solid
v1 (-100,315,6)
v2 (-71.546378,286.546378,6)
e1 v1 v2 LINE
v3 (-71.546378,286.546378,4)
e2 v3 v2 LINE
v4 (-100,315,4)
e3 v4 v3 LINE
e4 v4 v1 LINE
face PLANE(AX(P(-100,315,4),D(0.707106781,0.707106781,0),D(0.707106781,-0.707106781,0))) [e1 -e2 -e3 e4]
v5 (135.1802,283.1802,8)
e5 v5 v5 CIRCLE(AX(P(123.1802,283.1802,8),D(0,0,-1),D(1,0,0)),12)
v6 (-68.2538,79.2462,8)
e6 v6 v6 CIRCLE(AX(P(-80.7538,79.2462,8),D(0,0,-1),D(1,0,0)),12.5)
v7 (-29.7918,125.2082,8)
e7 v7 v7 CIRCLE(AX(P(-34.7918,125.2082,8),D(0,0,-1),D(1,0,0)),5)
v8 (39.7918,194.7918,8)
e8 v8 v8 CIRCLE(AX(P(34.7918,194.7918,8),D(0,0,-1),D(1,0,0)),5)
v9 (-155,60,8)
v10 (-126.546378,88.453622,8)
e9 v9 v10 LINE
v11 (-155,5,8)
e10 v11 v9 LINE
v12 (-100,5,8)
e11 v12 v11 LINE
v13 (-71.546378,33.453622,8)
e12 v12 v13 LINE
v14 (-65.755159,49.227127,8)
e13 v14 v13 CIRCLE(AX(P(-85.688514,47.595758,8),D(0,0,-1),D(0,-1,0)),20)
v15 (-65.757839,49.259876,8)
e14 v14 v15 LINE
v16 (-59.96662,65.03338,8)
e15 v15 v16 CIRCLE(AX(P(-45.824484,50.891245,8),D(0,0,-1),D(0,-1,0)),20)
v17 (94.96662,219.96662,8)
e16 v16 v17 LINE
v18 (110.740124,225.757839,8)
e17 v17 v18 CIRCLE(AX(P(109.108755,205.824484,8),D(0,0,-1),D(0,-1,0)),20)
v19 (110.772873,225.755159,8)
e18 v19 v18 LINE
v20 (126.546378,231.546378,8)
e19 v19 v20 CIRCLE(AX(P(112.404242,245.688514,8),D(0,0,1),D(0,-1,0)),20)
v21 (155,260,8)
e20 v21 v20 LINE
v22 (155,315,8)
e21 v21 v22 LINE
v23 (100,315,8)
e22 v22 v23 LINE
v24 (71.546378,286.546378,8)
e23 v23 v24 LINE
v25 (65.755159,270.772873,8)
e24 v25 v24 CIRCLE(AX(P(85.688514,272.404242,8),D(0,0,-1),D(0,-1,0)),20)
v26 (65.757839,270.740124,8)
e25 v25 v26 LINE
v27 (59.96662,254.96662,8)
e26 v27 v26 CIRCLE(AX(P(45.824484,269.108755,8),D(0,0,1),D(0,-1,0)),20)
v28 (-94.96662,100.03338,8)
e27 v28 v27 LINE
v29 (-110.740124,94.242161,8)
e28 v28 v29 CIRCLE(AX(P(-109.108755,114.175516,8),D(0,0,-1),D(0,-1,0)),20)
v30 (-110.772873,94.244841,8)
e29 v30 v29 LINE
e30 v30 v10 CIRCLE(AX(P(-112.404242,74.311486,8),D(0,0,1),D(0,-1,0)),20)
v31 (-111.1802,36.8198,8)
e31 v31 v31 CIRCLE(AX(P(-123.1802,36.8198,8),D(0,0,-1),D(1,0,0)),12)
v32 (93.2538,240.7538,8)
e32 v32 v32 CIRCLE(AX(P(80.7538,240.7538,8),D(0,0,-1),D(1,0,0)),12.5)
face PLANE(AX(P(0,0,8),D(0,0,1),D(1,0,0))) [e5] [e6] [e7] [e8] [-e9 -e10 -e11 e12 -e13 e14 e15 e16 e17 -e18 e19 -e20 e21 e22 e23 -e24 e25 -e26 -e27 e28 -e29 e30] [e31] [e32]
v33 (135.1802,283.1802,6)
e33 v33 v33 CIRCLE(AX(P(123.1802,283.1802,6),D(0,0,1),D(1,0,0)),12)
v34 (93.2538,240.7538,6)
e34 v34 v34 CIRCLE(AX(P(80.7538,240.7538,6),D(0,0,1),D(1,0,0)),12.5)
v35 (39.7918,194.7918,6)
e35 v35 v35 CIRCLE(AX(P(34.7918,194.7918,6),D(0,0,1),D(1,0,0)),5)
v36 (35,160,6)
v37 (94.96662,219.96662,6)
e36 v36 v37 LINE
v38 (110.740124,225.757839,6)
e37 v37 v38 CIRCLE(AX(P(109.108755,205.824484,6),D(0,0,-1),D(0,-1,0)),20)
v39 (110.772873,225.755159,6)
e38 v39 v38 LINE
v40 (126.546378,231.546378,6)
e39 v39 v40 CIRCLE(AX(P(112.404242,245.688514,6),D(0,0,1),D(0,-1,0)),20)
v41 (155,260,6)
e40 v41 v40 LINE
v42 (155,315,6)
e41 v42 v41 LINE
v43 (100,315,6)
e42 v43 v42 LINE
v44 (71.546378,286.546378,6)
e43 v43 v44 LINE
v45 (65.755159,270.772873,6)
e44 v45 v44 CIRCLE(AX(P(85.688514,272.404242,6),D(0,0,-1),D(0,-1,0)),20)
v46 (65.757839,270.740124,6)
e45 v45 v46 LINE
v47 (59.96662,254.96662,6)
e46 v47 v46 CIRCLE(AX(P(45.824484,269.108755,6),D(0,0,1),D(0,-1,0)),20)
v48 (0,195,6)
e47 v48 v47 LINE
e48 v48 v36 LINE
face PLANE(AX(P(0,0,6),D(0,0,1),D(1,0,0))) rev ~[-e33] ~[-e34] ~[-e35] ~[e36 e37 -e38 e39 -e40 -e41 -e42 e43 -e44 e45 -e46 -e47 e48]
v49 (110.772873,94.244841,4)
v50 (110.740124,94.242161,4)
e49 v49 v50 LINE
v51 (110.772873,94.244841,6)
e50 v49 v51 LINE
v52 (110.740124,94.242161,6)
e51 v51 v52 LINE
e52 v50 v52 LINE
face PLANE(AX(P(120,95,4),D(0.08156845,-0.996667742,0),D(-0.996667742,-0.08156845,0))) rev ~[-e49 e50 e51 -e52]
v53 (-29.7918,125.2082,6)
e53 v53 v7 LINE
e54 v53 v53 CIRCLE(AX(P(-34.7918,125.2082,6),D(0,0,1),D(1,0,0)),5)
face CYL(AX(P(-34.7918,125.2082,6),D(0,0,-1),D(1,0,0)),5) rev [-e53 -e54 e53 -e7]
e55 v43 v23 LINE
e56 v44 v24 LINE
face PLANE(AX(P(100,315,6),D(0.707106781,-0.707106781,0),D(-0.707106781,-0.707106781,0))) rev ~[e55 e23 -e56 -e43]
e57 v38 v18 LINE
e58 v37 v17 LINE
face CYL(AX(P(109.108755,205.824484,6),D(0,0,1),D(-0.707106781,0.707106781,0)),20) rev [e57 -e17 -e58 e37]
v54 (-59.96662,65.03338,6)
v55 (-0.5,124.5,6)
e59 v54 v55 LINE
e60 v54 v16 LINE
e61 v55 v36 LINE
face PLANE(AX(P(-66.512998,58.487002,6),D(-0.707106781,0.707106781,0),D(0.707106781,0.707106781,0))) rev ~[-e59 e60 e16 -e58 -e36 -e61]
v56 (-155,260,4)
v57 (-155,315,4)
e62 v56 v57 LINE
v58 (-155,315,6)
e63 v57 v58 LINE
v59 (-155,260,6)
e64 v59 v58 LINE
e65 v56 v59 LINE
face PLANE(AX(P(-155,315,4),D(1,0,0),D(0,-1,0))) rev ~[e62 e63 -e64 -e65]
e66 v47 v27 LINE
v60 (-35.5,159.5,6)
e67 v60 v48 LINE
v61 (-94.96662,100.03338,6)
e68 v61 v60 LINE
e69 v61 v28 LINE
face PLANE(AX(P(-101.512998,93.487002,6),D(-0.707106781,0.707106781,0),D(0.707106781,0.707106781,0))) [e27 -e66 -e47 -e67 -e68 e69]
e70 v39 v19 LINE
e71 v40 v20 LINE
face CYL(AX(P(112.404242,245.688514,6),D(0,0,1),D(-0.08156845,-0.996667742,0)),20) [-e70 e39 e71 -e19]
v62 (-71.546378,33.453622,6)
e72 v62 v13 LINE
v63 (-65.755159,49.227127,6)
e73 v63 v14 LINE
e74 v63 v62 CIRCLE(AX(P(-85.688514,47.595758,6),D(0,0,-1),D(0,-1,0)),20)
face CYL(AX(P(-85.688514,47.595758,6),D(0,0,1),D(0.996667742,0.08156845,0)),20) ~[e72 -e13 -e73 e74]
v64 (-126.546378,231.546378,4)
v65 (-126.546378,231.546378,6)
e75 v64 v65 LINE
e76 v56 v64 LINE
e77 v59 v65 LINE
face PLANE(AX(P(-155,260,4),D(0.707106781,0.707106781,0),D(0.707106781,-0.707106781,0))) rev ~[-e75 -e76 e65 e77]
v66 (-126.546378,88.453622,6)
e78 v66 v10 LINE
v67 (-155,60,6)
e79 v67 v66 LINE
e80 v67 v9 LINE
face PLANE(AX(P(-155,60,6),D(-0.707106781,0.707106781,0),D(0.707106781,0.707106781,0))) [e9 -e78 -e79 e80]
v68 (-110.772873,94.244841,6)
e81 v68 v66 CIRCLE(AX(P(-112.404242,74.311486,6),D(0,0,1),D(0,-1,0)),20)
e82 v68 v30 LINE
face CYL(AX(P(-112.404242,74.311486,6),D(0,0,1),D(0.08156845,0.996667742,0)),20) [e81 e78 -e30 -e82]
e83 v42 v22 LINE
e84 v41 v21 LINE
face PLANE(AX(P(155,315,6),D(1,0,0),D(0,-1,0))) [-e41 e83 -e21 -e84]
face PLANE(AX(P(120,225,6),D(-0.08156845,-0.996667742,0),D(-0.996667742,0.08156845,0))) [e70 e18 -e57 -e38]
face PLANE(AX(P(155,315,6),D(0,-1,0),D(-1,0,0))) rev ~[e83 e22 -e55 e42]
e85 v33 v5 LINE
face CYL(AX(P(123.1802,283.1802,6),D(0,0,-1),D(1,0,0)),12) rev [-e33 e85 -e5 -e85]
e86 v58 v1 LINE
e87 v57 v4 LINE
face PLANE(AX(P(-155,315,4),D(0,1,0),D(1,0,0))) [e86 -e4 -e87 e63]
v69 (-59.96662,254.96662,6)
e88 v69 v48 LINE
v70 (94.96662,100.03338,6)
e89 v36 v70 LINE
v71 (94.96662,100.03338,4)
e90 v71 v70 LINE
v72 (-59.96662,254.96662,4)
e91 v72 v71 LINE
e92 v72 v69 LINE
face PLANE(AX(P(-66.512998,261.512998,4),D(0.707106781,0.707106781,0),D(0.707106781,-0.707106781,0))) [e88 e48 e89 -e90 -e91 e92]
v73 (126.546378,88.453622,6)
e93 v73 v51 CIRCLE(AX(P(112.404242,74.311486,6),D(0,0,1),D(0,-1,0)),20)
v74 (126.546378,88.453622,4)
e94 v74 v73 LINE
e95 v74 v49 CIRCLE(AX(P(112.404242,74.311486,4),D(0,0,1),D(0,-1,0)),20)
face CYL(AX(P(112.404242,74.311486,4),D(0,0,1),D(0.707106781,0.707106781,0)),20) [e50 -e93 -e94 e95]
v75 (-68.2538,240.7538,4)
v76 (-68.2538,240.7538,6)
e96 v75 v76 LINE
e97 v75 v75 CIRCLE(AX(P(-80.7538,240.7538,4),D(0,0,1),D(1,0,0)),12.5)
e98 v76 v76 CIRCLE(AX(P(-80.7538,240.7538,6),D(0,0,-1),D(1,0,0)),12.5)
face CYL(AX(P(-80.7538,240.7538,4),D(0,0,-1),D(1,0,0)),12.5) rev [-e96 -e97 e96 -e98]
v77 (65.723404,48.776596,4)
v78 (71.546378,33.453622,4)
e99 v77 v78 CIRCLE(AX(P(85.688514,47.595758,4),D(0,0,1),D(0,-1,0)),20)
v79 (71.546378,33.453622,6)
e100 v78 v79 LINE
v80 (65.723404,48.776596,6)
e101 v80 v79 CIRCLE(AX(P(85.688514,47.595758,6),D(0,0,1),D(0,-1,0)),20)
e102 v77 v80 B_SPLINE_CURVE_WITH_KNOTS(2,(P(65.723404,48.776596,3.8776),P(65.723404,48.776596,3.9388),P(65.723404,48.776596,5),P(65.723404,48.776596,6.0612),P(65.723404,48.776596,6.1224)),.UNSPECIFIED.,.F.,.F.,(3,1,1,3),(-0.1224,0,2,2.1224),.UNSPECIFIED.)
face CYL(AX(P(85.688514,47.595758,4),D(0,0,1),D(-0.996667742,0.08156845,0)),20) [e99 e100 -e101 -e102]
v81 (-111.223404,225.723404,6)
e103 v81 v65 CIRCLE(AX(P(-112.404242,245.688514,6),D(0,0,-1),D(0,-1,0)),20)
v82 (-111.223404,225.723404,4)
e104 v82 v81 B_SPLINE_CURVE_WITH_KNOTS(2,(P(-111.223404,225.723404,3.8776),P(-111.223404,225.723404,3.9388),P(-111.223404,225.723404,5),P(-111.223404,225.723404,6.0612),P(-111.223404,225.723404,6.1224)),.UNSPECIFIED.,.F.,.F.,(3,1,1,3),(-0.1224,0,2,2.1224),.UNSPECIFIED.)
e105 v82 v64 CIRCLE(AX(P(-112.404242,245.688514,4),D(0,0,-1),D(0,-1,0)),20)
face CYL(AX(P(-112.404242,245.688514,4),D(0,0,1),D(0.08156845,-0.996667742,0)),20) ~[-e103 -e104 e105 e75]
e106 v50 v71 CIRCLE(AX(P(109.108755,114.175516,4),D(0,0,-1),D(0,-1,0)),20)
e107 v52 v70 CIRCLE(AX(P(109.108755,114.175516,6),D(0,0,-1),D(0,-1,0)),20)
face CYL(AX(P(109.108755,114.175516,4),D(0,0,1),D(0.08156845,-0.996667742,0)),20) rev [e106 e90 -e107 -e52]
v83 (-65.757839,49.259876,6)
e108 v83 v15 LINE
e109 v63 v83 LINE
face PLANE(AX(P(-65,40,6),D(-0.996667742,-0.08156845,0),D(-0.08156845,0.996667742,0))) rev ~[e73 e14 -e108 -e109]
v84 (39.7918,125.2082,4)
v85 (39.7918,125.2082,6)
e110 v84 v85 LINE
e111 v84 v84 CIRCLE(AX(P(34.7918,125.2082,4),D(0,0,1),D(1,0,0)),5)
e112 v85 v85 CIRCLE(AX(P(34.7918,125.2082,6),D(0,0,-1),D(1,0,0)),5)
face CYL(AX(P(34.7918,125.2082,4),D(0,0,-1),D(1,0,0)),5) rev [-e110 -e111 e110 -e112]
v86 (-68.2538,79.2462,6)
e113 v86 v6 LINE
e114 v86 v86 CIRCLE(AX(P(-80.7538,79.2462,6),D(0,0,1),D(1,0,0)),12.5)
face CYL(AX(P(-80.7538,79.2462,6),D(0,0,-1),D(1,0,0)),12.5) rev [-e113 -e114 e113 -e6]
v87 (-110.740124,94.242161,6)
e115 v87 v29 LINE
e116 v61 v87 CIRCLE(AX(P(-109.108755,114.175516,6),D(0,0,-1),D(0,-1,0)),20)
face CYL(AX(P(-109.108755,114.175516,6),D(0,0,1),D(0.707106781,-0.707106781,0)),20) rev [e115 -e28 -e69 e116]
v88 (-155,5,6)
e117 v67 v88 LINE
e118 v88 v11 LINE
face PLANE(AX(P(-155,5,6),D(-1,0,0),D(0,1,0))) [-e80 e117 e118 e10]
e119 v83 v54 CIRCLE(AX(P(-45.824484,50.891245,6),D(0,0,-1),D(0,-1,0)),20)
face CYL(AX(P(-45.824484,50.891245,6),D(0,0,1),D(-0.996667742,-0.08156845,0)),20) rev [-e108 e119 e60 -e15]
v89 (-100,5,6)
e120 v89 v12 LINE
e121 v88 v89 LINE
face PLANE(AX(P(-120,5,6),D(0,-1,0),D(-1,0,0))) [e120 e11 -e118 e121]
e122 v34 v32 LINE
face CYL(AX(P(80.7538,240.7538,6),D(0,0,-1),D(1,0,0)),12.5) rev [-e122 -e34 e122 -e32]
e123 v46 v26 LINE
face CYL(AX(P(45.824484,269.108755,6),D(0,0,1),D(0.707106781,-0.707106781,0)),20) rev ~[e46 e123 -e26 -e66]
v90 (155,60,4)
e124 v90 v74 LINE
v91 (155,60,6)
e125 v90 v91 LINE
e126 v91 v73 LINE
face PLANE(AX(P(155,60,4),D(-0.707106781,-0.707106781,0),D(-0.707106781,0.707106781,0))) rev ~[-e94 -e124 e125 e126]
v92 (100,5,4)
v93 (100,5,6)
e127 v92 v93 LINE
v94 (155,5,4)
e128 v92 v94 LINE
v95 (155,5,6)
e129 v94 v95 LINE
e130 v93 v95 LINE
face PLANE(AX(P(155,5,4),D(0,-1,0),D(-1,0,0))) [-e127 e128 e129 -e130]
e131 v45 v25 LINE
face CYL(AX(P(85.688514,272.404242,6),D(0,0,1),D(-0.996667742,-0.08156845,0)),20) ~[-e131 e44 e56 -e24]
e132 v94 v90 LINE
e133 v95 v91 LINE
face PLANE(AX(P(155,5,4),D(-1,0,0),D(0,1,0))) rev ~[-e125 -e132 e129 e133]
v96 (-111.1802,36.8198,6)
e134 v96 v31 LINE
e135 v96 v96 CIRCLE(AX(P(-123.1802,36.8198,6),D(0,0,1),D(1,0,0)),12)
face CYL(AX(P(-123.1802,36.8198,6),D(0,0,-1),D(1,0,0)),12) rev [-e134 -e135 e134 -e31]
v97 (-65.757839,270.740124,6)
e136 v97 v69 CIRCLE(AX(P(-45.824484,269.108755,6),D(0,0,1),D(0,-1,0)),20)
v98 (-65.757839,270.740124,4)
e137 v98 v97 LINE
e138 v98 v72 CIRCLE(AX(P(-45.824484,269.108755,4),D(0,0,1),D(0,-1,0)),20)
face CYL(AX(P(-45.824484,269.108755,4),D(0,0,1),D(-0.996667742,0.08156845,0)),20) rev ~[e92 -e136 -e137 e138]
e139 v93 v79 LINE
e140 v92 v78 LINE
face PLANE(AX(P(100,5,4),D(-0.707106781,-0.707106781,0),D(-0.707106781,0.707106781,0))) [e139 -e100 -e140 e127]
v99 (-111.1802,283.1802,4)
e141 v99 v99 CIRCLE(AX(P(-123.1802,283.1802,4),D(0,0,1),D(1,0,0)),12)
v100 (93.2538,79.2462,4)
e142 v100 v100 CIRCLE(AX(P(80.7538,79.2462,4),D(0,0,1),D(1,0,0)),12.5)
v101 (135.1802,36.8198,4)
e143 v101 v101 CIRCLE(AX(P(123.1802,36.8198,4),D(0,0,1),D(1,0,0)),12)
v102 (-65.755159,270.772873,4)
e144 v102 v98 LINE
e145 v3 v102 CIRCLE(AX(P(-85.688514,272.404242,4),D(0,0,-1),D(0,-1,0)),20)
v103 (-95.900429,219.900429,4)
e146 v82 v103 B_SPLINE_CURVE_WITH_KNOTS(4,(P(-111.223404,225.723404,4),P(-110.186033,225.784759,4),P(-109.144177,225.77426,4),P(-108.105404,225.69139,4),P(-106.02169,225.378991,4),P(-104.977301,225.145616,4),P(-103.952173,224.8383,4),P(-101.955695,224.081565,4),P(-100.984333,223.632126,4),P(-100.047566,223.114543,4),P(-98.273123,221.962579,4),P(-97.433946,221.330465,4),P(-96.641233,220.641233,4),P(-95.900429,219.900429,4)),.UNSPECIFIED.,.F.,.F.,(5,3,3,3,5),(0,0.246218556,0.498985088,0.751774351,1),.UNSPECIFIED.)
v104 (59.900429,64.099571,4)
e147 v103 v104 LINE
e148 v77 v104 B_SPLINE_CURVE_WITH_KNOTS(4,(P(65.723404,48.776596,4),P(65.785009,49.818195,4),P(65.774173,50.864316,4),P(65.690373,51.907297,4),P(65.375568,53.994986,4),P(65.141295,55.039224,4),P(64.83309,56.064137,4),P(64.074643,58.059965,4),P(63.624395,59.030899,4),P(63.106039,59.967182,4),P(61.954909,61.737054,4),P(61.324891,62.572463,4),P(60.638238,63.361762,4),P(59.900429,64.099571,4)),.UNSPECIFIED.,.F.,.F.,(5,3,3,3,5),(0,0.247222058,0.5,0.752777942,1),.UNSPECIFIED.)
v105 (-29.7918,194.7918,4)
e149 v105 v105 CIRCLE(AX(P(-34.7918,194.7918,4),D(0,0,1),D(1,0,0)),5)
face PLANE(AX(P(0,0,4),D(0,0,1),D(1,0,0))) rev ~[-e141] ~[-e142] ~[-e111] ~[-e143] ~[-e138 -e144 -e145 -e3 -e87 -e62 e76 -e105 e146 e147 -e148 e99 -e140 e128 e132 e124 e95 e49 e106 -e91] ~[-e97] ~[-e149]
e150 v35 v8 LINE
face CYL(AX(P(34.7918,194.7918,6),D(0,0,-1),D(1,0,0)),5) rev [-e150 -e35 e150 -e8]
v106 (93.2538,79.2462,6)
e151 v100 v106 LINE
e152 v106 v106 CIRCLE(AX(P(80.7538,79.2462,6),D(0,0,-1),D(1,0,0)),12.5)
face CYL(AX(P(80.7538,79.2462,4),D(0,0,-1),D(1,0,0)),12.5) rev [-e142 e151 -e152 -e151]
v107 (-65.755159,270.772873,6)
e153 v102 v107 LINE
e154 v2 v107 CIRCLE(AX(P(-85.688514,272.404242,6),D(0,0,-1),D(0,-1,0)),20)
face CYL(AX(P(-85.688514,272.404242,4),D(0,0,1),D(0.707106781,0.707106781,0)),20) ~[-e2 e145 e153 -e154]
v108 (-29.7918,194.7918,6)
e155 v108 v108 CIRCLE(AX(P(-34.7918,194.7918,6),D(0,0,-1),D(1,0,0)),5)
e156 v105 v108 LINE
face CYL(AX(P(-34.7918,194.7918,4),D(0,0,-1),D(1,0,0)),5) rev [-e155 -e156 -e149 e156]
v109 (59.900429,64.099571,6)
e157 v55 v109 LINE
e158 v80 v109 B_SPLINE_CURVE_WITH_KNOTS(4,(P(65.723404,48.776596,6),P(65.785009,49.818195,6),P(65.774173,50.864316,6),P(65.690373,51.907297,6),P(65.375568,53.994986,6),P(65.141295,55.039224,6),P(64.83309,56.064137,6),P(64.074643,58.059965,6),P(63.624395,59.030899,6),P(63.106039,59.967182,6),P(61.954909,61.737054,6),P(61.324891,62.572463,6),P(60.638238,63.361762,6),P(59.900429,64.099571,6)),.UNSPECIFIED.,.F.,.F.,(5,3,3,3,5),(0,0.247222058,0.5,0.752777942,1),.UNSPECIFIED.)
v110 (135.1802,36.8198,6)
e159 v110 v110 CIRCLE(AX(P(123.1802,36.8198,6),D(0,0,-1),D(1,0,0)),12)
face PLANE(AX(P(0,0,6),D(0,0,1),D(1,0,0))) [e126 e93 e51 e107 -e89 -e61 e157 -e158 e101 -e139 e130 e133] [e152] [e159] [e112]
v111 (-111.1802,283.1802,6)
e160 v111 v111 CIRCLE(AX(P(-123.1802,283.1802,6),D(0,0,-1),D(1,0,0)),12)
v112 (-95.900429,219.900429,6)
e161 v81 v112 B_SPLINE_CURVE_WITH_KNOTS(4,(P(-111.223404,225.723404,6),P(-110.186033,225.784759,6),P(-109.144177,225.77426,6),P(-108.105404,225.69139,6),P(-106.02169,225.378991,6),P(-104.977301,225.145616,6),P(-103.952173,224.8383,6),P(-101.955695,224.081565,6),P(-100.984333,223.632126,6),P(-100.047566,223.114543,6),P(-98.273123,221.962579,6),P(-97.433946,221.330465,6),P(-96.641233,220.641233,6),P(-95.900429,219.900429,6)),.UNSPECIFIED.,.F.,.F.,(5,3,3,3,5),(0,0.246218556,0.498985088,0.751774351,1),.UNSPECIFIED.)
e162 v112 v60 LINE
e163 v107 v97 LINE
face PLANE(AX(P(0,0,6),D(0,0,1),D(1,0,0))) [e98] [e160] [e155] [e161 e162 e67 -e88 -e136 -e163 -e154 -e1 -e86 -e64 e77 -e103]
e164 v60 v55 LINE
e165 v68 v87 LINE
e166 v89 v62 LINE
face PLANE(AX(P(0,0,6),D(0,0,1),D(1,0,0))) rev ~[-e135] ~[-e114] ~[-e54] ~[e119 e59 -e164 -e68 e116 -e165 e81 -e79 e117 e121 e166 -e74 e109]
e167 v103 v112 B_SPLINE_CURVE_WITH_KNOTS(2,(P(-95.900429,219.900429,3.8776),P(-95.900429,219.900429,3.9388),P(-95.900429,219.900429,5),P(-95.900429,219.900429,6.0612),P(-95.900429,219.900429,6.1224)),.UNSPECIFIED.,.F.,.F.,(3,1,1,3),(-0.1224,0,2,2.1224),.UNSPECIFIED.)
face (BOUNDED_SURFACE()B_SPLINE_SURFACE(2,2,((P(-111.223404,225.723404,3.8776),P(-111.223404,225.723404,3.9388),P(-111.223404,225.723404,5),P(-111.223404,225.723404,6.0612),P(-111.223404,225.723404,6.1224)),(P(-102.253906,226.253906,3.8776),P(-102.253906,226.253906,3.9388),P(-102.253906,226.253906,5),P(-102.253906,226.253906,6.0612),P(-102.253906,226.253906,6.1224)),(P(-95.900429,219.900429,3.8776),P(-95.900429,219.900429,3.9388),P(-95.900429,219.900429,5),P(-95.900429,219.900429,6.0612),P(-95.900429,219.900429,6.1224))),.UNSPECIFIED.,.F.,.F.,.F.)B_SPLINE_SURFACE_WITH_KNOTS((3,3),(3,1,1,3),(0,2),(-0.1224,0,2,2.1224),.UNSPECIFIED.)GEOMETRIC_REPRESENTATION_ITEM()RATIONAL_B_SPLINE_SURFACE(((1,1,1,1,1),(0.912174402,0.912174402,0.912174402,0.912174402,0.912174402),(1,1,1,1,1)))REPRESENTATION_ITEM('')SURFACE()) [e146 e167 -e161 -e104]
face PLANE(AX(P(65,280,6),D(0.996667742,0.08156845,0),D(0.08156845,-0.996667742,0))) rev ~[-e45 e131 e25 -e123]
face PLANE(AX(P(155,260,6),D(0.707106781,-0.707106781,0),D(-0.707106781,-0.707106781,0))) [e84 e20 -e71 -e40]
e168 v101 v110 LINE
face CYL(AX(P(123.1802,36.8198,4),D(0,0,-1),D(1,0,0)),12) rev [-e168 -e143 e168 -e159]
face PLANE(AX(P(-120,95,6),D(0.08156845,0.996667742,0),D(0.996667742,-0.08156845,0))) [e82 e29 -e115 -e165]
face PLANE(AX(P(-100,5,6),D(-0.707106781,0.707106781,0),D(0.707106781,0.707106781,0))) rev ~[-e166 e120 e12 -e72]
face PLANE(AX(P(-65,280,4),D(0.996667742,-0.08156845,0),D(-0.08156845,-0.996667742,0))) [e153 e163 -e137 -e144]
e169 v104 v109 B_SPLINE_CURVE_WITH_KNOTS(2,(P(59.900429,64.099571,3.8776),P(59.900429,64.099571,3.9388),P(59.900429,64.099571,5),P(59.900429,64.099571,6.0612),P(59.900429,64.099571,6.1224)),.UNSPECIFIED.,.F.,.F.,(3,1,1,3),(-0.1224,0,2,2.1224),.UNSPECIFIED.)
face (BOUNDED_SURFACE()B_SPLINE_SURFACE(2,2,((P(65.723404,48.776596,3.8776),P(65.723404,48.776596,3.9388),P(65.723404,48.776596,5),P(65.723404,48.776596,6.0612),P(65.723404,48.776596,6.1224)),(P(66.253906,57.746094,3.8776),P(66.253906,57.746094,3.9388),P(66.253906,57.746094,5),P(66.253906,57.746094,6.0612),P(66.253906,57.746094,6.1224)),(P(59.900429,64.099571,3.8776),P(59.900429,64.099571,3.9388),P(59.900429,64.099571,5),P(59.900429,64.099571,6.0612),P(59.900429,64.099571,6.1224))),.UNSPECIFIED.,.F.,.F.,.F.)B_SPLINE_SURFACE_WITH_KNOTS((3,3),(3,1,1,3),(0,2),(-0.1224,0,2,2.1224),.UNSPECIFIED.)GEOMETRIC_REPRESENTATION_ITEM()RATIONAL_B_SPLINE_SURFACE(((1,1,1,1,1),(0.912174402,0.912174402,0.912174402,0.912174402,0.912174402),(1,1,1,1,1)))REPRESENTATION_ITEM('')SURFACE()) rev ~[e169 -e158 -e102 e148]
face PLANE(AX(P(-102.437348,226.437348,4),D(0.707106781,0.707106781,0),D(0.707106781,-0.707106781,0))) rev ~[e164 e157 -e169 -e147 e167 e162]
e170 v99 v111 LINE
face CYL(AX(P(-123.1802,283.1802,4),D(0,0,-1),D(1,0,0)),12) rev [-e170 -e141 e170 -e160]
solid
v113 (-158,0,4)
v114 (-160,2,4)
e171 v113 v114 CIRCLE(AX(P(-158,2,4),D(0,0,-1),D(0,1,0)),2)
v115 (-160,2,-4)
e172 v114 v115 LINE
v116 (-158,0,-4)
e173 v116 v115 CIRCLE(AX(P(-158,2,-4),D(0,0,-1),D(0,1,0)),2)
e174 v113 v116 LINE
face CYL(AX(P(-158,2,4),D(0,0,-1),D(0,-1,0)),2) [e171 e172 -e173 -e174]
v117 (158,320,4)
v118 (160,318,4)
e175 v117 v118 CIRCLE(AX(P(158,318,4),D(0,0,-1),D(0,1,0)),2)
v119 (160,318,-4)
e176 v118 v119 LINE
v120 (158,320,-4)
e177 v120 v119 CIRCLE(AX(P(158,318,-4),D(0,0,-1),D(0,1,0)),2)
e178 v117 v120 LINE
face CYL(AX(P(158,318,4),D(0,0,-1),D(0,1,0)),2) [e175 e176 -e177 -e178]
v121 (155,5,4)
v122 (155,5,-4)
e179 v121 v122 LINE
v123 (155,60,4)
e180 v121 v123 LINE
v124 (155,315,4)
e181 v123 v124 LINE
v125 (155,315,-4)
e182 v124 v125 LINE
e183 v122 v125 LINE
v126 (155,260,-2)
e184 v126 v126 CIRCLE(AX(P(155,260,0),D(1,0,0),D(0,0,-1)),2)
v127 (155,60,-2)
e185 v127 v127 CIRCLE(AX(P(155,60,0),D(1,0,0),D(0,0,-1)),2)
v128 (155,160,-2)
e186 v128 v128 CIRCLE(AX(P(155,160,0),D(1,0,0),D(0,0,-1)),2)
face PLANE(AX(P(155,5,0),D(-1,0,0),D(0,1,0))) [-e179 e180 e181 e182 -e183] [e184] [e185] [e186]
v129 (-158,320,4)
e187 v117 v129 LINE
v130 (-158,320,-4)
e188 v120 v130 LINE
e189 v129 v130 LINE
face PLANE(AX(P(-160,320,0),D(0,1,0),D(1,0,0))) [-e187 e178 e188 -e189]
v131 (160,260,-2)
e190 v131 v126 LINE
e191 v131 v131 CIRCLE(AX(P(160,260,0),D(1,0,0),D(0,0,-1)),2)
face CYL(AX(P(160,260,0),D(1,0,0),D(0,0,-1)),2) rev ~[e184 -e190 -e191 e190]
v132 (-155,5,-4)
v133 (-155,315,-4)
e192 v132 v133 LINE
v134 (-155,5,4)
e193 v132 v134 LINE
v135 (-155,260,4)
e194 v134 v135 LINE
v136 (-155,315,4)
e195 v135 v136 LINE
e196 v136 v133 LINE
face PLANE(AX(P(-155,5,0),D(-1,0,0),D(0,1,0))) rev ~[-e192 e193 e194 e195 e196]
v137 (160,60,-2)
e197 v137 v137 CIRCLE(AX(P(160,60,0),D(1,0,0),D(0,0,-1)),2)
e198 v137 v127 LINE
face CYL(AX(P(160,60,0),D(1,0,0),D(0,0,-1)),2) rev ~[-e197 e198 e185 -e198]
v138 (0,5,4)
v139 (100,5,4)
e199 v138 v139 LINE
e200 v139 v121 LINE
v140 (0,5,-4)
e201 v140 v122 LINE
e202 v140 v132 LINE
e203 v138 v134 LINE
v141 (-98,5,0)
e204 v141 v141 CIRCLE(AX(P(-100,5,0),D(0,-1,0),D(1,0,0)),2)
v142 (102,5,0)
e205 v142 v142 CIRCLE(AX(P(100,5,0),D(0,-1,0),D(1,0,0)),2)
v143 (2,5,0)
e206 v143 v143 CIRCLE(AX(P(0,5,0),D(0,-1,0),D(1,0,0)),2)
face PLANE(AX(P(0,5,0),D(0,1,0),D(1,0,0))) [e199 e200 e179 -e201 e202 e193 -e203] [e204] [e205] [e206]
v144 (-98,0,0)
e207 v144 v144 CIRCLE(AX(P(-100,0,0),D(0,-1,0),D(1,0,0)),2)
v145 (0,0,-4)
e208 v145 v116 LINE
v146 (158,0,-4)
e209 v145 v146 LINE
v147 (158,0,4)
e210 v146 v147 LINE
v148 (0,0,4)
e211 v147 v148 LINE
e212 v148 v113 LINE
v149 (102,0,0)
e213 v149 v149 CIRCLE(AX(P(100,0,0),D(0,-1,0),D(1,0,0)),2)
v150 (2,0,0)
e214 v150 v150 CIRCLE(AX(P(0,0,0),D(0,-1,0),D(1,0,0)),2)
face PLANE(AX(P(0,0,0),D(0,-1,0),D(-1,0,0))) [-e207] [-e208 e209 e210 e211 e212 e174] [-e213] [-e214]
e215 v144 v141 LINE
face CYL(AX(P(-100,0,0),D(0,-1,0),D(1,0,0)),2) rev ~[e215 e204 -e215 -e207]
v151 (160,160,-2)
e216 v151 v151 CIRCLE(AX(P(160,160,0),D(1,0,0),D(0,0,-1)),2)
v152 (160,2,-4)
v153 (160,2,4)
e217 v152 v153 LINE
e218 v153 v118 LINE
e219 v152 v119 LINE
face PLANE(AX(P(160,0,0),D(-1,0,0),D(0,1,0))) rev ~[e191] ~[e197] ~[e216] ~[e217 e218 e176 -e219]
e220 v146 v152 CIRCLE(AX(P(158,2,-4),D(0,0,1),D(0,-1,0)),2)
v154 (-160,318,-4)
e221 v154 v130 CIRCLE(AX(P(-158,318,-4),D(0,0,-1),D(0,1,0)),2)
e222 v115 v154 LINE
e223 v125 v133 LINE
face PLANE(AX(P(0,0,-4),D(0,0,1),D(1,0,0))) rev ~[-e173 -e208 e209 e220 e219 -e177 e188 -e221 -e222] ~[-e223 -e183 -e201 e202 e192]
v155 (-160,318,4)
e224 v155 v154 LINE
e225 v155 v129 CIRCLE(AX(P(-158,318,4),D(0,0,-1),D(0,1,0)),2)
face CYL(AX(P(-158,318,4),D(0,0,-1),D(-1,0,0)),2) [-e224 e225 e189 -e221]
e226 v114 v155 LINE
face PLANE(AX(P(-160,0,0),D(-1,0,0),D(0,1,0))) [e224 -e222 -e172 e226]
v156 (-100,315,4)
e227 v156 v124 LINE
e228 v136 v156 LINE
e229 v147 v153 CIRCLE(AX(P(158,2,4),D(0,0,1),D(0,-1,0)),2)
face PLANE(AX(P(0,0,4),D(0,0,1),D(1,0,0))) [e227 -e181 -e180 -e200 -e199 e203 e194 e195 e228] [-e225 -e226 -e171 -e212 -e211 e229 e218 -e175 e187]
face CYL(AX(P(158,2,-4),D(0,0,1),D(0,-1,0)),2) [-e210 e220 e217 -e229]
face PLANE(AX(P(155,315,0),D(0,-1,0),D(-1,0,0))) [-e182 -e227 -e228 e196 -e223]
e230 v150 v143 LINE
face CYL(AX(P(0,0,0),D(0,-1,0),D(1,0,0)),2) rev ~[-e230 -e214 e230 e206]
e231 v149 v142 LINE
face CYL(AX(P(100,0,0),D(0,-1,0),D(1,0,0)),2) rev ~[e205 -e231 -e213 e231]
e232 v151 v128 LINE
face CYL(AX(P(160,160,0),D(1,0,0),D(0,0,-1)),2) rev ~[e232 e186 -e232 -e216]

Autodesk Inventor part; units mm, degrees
sketch "Sketch1" plane through (0, 0, 0) normal (0, 0, 1) x (1, 0, 0)
  line L0 (0, 1487) -> (0, 5) construction
  line L1 (0, 0) -> (160, 0)
  line L2 (160, 0) -> (160, 320)
  line L3 (160, 320) -> (0, 320)
  line L4 (0, 0) -> (5, 0)
  line L5 (0, 0) -> (0, 5)
  line L6 (0, 5) -> (155, 5)
  line L7 (155, 5) -> (155, 315)
  line L8 (155, 315) -> (0, 315)
  line L9 (0, 0) -> (-160, 0)
  line L10 (-160, 0) -> (-160, 320)
  line L11 (-160, 320) -> (0, 320)
  line L12 (0, 5) -> (-155, 5)
  line L13 (-155, 5) -> (-155, 315)
  line L14 (-155, 315) -> (0, 315)
  dimension "d12" = 160
  dimension "d13" = 320
  dimension "d14" = 5
  dimension "d15" = 5
  dimension "d19" = 310
  dimension "d20" = 155
  dimension "d21" = 1487
extrude "Extrusion2" add sketch "Sketch1" along normal mid plane 8
fillet "Fillet2" radius 2 4 edges at (160, 320, 0) (-160, 320, 0) (160, 0, 0) (-160, 0, 0)
ref_plane "Work Plane1" through (0, 0, 4) normal (0, 0, 1) x (1, 0, 0)
sketch "Sketch2" plane through (0, 0, 4) normal (0, 0, 1) x (1, 0, 0)
  line L0 (-155, 315) -> (155, 5)
  line L1 (-137.5, 332.5) -> (172.5, 22.5)
  line L2 (-173, 297) -> (137, -13)
  line L3 (-173, 297) -> (-137.5, 332.5)
  circle A0 centre (-123.1802, 283.1802) radius 12
  circle A1 centre (-80.7538, 240.7538) radius 12.5
  line L4 (137, -13) -> (172.5, 22.5)
  circle A2 centre (123.1802, 36.8198) radius 12
  circle A3 centre (80.7538, 79.2462) radius 12.5
  circle A4 centre (34.7918, 125.2082) radius 5
  circle A5 centre (-34.7918, 194.7918) radius 5
  line L5 (-155, 315) -> (-155, 5) projected
  line L6 (-155, 315) -> (-155, 260)
  line L7 (-155, 260) -> (-120, 225)
  line L8 (-155, 315) -> (-100, 315)
  line L9 (-155, 315) -> (155, 315) projected
  line L10 (-100, 315) -> (-65, 280)
  line L11 (155, 5) -> (-155, 5) projected
  line L12 (155, 5) -> (100, 5)
  line L13 (155, 5) -> (155, 60)
  line L14 (155, 315) -> (155, 5) projected
  line L15 (-65, 280) -> (-68.2954, 239.7342)
  line L16 (-120, 225) -> (-79.7342, 228.2954)
  line L17 (155, 60) -> (120, 95)
  line L18 (100, 5) -> (65, 40)
  line L19 (65, 40) -> (68.2954, 80.2658)
  line L20 (120, 95) -> (79.7342, 91.7046)
  line L21 (155, 60) -> (182.5, 32.5)
  line L22 (182.5, 32.5) -> (172.5, 22.5)
  line L23 (100, 5) -> (127.5, -22.5)
  line L24 (127.5, -22.5) -> (137, -13)
  line L25 (-100, 315) -> (-127.5, 342.5)
  line L26 (-127.5, 342.5) -> (-137.5, 332.5)
  line L27 (-173, 297) -> (-182.5, 287.5)
  line L28 (-182.5, 287.5) -> (-155, 260)
  point P0 (0, 0)
  point P1 (66.4374, 57.5626)
  point P2 (119, 5)
  point P3 (101.513, 93.487)
  point P4 (155, 40)
  point P5 (-66.513, 261.513)
  point P6 (-120, 315)
  point P7 (-102.4374, 226.4374)
  point P8 (-155, 279)
  dimension "d30" = 24.7487
  dimension "d31" = 25.4558
  dimension "d32" = 50.2046
  dimension "d33" = 24
  dimension "d34" = 25
  dimension "d35" = 45
  dimension "d36" = 105
  dimension "d37" = 24
  dimension "d38" = 25
  dimension "d39" = 45
  dimension "d40" = 35.5
  dimension "d41" = 105
  dimension "d42" = 438.4062
  dimension "d43" = 0
  dimension "d44" = 0
  dimension "d45" = 10
  dimension "d46" = 10
  dimension "d47" = 170
  dimension "d48" = 170
  dimension "d111" = 55
  dimension "d112" = 55
  dimension "d114" = 45
  dimension "d115" = 45
  dimension "d116" = 55
  dimension "d117" = 55
  dimension "d118" = 35
  dimension "d119" = 35
  dimension "d121" = 45
  dimension "d122" = 45
  dimension "d123" = 35
  dimension "d124" = 35
extrude "Extrusion3" add sketch "Sketch2" along normal blind 2 contours L8 L1 L15 A1 L0 A0 | L0 A0 A1 L16 L2 L5 | L2 L16 L7 L5 | L8 L10 L15 L1 | L16 A1 L0 A5 A4 A3 L19 L2 | L1 L20 A3 L0 A4 A5 A1 L15 | L19 A3 L0 A2 L11 L2 | L2 L11 L18 L19 | L20 L17 L13 L1 | L1 L13 L0 A2 A3 L20
ref_plane "Work Plane2" through (0, 0, 6) normal (0, 0, 1) x (1, 0, 0)
sketch "Sketch3" plane through (0, 0, 6) normal (0, 0, 1) x (1, 0, 0)
  line L0 (-155, 5) -> (155, 315)
  line L1 (-172.5, 22.5) -> (137.5, 332.5)
  line L2 (-137.5, -12.5) -> (172.5, 297.5)
  line L3 (-172.5, 22.5) -> (-137.5, -12.5)
  line L4 (137.5, 332.5) -> (172.5, 297.5)
  circle A0 centre (123.1802, 283.1802) radius 12
  circle A1 centre (80.7538, 240.7538) radius 12.5
  circle A2 centre (34.7918, 194.7918) radius 5
  circle A3 centre (-34.7918, 125.2082) radius 5
  circle A4 centre (-80.7538, 79.2462) radius 12.5
  circle A5 centre (-123.1802, 36.8198) radius 12
  line L5 (155, 315) -> (155, 60) projected
  line L6 (155, 315) -> (100, 315)
  line L7 (155, 315) -> (-155, 315) projected
  line L8 (100, 315) -> (65, 280)
  line L9 (65, 280) -> (68.2954, 239.7342)
  line L10 (155, 315) -> (155, 260)
  line L11 (155, 260) -> (120, 225)
  line L12 (120, 225) -> (79.7342, 228.2954)
  line L13 (-155, 5) -> (-155, 260) projected
  line L14 (-155, 5) -> (-155, 60)
  line L15 (-155, 60) -> (-120, 95)
  line L16 (100, 5) -> (-155, 5) projected
  line L17 (-155, 5) -> (-100, 5)
  line L18 (-100, 5) -> (-65, 40)
  line L19 (-65, 40) -> (-68.2954, 80.2658)
  line L20 (-120, 95) -> (-79.7342, 91.7046)
  point P0 (0, 0)
  point P1 (-68.2538, 79.2462)
  point P2 (66.513, 261.513)
  point P3 (-101.513, 93.487)
  point P4 (-66.513, 58.487)
  point P5 (101.513, 226.513)
  dimension "d55" = 24.7487
  dimension "d56" = 24.7487
  dimension "d57" = 24
  dimension "d58" = 25
  dimension "d59" = 10
  dimension "d60" = 45
  dimension "d61" = 35
  dimension "d62" = 105
  dimension "d63" = 170
  dimension "d64" = 45
  dimension "d65" = 105
  dimension "d66" = 170
  dimension "d67" = 438.4062
  dimension "d68" = 0
  dimension "d69" = 438.4062
  dimension "d125" = 55
  dimension "d126" = 55
  dimension "d127" = 45
  dimension "d128" = 35
  dimension "d129" = 45
  dimension "d130" = 35
  dimension "d131" = 55
  dimension "d132" = 55
  dimension "d133" = 45
  dimension "d134" = 35
  dimension "d135" = 45
  dimension "d136" = 35
extrude "Extrusion4" add sketch "Sketch3" along normal blind 2 contours L13 L1 L20 A4 L0 A5 | L0 A5 A4 L19 L2 L16 | L13 L15 L20 L1 | L2 L19 L18 L16 | L1 L9 A1 L0 A2 A3 A4 L20 | L19 A4 L0 A3 A2 A1 L12 L2 | L9 L8 L6 L1 | L1 L6 L0 A0 A1 L9 | L12 A1 L0 A0 L5 L2 | L2 L5 L11 L12
ref_plane "Work Plane4" through (160, 2, -4) normal (1, 0, 0) x (0, 0, -1)
sketch "Sketch5" plane through (160, 2, -4) normal (1, 0, 0) x (0, 0, -1)
  circle A0 centre (-4, 158) radius 2
  circle A1 centre (-4, 58) radius 2
  circle A2 centre (-4, 258) radius 2
  line L0 (0, 318) -> (-8, 318) projected
  point P0 (-4, -2)
  dimension "d84" = 4
  dimension "d85" = 4
  dimension "d86" = 4
  dimension "d87" = 60
  dimension "d88" = 100
  dimension "d89" = 100
  dimension "d90" = 60
extrude "Extrusion6" cut sketch "Sketch5" against normal blind 8
ref_plane "Work Plane6" through (-158, 0, -4) normal (0, -1, 0) x (1, 0, 0)
sketch "Sketch7" plane through (-158, 0, -4) normal (0, -1, 0) x (1, 0, 0)
  circle A0 centre (158, 4) radius 2
  circle A1 centre (258, 4) radius 2
  circle A2 centre (58, 4) radius 2
  dimension "d104" = 4
  dimension "d105" = 4
  dimension "d106" = 4
  dimension "d107" = 100
  dimension "d108" = 100
extrude "Extrusion8" cut sketch "Sketch7" against normal blind 8
fillet "Fillet3" radius 20 16 edges at (65, 40, 5) (66.4374, 57.5626, 5) (120, 95, 5) (101.513, 93.487, 5) (66.513, 261.513, 7) (65, 280, 7) (-120, 225, 5) (-102.4374, 226.4374, 5) (-101.513, 93.487, 7) (-120, 95, 7) (-66.513, 58.487, 7) (-65, 40, 7) (101.513, 226.513, 7) (120, 225, 7) (-65, 280, 5) (-66.513, 261.513, 5)
properties part number "Chassis"
